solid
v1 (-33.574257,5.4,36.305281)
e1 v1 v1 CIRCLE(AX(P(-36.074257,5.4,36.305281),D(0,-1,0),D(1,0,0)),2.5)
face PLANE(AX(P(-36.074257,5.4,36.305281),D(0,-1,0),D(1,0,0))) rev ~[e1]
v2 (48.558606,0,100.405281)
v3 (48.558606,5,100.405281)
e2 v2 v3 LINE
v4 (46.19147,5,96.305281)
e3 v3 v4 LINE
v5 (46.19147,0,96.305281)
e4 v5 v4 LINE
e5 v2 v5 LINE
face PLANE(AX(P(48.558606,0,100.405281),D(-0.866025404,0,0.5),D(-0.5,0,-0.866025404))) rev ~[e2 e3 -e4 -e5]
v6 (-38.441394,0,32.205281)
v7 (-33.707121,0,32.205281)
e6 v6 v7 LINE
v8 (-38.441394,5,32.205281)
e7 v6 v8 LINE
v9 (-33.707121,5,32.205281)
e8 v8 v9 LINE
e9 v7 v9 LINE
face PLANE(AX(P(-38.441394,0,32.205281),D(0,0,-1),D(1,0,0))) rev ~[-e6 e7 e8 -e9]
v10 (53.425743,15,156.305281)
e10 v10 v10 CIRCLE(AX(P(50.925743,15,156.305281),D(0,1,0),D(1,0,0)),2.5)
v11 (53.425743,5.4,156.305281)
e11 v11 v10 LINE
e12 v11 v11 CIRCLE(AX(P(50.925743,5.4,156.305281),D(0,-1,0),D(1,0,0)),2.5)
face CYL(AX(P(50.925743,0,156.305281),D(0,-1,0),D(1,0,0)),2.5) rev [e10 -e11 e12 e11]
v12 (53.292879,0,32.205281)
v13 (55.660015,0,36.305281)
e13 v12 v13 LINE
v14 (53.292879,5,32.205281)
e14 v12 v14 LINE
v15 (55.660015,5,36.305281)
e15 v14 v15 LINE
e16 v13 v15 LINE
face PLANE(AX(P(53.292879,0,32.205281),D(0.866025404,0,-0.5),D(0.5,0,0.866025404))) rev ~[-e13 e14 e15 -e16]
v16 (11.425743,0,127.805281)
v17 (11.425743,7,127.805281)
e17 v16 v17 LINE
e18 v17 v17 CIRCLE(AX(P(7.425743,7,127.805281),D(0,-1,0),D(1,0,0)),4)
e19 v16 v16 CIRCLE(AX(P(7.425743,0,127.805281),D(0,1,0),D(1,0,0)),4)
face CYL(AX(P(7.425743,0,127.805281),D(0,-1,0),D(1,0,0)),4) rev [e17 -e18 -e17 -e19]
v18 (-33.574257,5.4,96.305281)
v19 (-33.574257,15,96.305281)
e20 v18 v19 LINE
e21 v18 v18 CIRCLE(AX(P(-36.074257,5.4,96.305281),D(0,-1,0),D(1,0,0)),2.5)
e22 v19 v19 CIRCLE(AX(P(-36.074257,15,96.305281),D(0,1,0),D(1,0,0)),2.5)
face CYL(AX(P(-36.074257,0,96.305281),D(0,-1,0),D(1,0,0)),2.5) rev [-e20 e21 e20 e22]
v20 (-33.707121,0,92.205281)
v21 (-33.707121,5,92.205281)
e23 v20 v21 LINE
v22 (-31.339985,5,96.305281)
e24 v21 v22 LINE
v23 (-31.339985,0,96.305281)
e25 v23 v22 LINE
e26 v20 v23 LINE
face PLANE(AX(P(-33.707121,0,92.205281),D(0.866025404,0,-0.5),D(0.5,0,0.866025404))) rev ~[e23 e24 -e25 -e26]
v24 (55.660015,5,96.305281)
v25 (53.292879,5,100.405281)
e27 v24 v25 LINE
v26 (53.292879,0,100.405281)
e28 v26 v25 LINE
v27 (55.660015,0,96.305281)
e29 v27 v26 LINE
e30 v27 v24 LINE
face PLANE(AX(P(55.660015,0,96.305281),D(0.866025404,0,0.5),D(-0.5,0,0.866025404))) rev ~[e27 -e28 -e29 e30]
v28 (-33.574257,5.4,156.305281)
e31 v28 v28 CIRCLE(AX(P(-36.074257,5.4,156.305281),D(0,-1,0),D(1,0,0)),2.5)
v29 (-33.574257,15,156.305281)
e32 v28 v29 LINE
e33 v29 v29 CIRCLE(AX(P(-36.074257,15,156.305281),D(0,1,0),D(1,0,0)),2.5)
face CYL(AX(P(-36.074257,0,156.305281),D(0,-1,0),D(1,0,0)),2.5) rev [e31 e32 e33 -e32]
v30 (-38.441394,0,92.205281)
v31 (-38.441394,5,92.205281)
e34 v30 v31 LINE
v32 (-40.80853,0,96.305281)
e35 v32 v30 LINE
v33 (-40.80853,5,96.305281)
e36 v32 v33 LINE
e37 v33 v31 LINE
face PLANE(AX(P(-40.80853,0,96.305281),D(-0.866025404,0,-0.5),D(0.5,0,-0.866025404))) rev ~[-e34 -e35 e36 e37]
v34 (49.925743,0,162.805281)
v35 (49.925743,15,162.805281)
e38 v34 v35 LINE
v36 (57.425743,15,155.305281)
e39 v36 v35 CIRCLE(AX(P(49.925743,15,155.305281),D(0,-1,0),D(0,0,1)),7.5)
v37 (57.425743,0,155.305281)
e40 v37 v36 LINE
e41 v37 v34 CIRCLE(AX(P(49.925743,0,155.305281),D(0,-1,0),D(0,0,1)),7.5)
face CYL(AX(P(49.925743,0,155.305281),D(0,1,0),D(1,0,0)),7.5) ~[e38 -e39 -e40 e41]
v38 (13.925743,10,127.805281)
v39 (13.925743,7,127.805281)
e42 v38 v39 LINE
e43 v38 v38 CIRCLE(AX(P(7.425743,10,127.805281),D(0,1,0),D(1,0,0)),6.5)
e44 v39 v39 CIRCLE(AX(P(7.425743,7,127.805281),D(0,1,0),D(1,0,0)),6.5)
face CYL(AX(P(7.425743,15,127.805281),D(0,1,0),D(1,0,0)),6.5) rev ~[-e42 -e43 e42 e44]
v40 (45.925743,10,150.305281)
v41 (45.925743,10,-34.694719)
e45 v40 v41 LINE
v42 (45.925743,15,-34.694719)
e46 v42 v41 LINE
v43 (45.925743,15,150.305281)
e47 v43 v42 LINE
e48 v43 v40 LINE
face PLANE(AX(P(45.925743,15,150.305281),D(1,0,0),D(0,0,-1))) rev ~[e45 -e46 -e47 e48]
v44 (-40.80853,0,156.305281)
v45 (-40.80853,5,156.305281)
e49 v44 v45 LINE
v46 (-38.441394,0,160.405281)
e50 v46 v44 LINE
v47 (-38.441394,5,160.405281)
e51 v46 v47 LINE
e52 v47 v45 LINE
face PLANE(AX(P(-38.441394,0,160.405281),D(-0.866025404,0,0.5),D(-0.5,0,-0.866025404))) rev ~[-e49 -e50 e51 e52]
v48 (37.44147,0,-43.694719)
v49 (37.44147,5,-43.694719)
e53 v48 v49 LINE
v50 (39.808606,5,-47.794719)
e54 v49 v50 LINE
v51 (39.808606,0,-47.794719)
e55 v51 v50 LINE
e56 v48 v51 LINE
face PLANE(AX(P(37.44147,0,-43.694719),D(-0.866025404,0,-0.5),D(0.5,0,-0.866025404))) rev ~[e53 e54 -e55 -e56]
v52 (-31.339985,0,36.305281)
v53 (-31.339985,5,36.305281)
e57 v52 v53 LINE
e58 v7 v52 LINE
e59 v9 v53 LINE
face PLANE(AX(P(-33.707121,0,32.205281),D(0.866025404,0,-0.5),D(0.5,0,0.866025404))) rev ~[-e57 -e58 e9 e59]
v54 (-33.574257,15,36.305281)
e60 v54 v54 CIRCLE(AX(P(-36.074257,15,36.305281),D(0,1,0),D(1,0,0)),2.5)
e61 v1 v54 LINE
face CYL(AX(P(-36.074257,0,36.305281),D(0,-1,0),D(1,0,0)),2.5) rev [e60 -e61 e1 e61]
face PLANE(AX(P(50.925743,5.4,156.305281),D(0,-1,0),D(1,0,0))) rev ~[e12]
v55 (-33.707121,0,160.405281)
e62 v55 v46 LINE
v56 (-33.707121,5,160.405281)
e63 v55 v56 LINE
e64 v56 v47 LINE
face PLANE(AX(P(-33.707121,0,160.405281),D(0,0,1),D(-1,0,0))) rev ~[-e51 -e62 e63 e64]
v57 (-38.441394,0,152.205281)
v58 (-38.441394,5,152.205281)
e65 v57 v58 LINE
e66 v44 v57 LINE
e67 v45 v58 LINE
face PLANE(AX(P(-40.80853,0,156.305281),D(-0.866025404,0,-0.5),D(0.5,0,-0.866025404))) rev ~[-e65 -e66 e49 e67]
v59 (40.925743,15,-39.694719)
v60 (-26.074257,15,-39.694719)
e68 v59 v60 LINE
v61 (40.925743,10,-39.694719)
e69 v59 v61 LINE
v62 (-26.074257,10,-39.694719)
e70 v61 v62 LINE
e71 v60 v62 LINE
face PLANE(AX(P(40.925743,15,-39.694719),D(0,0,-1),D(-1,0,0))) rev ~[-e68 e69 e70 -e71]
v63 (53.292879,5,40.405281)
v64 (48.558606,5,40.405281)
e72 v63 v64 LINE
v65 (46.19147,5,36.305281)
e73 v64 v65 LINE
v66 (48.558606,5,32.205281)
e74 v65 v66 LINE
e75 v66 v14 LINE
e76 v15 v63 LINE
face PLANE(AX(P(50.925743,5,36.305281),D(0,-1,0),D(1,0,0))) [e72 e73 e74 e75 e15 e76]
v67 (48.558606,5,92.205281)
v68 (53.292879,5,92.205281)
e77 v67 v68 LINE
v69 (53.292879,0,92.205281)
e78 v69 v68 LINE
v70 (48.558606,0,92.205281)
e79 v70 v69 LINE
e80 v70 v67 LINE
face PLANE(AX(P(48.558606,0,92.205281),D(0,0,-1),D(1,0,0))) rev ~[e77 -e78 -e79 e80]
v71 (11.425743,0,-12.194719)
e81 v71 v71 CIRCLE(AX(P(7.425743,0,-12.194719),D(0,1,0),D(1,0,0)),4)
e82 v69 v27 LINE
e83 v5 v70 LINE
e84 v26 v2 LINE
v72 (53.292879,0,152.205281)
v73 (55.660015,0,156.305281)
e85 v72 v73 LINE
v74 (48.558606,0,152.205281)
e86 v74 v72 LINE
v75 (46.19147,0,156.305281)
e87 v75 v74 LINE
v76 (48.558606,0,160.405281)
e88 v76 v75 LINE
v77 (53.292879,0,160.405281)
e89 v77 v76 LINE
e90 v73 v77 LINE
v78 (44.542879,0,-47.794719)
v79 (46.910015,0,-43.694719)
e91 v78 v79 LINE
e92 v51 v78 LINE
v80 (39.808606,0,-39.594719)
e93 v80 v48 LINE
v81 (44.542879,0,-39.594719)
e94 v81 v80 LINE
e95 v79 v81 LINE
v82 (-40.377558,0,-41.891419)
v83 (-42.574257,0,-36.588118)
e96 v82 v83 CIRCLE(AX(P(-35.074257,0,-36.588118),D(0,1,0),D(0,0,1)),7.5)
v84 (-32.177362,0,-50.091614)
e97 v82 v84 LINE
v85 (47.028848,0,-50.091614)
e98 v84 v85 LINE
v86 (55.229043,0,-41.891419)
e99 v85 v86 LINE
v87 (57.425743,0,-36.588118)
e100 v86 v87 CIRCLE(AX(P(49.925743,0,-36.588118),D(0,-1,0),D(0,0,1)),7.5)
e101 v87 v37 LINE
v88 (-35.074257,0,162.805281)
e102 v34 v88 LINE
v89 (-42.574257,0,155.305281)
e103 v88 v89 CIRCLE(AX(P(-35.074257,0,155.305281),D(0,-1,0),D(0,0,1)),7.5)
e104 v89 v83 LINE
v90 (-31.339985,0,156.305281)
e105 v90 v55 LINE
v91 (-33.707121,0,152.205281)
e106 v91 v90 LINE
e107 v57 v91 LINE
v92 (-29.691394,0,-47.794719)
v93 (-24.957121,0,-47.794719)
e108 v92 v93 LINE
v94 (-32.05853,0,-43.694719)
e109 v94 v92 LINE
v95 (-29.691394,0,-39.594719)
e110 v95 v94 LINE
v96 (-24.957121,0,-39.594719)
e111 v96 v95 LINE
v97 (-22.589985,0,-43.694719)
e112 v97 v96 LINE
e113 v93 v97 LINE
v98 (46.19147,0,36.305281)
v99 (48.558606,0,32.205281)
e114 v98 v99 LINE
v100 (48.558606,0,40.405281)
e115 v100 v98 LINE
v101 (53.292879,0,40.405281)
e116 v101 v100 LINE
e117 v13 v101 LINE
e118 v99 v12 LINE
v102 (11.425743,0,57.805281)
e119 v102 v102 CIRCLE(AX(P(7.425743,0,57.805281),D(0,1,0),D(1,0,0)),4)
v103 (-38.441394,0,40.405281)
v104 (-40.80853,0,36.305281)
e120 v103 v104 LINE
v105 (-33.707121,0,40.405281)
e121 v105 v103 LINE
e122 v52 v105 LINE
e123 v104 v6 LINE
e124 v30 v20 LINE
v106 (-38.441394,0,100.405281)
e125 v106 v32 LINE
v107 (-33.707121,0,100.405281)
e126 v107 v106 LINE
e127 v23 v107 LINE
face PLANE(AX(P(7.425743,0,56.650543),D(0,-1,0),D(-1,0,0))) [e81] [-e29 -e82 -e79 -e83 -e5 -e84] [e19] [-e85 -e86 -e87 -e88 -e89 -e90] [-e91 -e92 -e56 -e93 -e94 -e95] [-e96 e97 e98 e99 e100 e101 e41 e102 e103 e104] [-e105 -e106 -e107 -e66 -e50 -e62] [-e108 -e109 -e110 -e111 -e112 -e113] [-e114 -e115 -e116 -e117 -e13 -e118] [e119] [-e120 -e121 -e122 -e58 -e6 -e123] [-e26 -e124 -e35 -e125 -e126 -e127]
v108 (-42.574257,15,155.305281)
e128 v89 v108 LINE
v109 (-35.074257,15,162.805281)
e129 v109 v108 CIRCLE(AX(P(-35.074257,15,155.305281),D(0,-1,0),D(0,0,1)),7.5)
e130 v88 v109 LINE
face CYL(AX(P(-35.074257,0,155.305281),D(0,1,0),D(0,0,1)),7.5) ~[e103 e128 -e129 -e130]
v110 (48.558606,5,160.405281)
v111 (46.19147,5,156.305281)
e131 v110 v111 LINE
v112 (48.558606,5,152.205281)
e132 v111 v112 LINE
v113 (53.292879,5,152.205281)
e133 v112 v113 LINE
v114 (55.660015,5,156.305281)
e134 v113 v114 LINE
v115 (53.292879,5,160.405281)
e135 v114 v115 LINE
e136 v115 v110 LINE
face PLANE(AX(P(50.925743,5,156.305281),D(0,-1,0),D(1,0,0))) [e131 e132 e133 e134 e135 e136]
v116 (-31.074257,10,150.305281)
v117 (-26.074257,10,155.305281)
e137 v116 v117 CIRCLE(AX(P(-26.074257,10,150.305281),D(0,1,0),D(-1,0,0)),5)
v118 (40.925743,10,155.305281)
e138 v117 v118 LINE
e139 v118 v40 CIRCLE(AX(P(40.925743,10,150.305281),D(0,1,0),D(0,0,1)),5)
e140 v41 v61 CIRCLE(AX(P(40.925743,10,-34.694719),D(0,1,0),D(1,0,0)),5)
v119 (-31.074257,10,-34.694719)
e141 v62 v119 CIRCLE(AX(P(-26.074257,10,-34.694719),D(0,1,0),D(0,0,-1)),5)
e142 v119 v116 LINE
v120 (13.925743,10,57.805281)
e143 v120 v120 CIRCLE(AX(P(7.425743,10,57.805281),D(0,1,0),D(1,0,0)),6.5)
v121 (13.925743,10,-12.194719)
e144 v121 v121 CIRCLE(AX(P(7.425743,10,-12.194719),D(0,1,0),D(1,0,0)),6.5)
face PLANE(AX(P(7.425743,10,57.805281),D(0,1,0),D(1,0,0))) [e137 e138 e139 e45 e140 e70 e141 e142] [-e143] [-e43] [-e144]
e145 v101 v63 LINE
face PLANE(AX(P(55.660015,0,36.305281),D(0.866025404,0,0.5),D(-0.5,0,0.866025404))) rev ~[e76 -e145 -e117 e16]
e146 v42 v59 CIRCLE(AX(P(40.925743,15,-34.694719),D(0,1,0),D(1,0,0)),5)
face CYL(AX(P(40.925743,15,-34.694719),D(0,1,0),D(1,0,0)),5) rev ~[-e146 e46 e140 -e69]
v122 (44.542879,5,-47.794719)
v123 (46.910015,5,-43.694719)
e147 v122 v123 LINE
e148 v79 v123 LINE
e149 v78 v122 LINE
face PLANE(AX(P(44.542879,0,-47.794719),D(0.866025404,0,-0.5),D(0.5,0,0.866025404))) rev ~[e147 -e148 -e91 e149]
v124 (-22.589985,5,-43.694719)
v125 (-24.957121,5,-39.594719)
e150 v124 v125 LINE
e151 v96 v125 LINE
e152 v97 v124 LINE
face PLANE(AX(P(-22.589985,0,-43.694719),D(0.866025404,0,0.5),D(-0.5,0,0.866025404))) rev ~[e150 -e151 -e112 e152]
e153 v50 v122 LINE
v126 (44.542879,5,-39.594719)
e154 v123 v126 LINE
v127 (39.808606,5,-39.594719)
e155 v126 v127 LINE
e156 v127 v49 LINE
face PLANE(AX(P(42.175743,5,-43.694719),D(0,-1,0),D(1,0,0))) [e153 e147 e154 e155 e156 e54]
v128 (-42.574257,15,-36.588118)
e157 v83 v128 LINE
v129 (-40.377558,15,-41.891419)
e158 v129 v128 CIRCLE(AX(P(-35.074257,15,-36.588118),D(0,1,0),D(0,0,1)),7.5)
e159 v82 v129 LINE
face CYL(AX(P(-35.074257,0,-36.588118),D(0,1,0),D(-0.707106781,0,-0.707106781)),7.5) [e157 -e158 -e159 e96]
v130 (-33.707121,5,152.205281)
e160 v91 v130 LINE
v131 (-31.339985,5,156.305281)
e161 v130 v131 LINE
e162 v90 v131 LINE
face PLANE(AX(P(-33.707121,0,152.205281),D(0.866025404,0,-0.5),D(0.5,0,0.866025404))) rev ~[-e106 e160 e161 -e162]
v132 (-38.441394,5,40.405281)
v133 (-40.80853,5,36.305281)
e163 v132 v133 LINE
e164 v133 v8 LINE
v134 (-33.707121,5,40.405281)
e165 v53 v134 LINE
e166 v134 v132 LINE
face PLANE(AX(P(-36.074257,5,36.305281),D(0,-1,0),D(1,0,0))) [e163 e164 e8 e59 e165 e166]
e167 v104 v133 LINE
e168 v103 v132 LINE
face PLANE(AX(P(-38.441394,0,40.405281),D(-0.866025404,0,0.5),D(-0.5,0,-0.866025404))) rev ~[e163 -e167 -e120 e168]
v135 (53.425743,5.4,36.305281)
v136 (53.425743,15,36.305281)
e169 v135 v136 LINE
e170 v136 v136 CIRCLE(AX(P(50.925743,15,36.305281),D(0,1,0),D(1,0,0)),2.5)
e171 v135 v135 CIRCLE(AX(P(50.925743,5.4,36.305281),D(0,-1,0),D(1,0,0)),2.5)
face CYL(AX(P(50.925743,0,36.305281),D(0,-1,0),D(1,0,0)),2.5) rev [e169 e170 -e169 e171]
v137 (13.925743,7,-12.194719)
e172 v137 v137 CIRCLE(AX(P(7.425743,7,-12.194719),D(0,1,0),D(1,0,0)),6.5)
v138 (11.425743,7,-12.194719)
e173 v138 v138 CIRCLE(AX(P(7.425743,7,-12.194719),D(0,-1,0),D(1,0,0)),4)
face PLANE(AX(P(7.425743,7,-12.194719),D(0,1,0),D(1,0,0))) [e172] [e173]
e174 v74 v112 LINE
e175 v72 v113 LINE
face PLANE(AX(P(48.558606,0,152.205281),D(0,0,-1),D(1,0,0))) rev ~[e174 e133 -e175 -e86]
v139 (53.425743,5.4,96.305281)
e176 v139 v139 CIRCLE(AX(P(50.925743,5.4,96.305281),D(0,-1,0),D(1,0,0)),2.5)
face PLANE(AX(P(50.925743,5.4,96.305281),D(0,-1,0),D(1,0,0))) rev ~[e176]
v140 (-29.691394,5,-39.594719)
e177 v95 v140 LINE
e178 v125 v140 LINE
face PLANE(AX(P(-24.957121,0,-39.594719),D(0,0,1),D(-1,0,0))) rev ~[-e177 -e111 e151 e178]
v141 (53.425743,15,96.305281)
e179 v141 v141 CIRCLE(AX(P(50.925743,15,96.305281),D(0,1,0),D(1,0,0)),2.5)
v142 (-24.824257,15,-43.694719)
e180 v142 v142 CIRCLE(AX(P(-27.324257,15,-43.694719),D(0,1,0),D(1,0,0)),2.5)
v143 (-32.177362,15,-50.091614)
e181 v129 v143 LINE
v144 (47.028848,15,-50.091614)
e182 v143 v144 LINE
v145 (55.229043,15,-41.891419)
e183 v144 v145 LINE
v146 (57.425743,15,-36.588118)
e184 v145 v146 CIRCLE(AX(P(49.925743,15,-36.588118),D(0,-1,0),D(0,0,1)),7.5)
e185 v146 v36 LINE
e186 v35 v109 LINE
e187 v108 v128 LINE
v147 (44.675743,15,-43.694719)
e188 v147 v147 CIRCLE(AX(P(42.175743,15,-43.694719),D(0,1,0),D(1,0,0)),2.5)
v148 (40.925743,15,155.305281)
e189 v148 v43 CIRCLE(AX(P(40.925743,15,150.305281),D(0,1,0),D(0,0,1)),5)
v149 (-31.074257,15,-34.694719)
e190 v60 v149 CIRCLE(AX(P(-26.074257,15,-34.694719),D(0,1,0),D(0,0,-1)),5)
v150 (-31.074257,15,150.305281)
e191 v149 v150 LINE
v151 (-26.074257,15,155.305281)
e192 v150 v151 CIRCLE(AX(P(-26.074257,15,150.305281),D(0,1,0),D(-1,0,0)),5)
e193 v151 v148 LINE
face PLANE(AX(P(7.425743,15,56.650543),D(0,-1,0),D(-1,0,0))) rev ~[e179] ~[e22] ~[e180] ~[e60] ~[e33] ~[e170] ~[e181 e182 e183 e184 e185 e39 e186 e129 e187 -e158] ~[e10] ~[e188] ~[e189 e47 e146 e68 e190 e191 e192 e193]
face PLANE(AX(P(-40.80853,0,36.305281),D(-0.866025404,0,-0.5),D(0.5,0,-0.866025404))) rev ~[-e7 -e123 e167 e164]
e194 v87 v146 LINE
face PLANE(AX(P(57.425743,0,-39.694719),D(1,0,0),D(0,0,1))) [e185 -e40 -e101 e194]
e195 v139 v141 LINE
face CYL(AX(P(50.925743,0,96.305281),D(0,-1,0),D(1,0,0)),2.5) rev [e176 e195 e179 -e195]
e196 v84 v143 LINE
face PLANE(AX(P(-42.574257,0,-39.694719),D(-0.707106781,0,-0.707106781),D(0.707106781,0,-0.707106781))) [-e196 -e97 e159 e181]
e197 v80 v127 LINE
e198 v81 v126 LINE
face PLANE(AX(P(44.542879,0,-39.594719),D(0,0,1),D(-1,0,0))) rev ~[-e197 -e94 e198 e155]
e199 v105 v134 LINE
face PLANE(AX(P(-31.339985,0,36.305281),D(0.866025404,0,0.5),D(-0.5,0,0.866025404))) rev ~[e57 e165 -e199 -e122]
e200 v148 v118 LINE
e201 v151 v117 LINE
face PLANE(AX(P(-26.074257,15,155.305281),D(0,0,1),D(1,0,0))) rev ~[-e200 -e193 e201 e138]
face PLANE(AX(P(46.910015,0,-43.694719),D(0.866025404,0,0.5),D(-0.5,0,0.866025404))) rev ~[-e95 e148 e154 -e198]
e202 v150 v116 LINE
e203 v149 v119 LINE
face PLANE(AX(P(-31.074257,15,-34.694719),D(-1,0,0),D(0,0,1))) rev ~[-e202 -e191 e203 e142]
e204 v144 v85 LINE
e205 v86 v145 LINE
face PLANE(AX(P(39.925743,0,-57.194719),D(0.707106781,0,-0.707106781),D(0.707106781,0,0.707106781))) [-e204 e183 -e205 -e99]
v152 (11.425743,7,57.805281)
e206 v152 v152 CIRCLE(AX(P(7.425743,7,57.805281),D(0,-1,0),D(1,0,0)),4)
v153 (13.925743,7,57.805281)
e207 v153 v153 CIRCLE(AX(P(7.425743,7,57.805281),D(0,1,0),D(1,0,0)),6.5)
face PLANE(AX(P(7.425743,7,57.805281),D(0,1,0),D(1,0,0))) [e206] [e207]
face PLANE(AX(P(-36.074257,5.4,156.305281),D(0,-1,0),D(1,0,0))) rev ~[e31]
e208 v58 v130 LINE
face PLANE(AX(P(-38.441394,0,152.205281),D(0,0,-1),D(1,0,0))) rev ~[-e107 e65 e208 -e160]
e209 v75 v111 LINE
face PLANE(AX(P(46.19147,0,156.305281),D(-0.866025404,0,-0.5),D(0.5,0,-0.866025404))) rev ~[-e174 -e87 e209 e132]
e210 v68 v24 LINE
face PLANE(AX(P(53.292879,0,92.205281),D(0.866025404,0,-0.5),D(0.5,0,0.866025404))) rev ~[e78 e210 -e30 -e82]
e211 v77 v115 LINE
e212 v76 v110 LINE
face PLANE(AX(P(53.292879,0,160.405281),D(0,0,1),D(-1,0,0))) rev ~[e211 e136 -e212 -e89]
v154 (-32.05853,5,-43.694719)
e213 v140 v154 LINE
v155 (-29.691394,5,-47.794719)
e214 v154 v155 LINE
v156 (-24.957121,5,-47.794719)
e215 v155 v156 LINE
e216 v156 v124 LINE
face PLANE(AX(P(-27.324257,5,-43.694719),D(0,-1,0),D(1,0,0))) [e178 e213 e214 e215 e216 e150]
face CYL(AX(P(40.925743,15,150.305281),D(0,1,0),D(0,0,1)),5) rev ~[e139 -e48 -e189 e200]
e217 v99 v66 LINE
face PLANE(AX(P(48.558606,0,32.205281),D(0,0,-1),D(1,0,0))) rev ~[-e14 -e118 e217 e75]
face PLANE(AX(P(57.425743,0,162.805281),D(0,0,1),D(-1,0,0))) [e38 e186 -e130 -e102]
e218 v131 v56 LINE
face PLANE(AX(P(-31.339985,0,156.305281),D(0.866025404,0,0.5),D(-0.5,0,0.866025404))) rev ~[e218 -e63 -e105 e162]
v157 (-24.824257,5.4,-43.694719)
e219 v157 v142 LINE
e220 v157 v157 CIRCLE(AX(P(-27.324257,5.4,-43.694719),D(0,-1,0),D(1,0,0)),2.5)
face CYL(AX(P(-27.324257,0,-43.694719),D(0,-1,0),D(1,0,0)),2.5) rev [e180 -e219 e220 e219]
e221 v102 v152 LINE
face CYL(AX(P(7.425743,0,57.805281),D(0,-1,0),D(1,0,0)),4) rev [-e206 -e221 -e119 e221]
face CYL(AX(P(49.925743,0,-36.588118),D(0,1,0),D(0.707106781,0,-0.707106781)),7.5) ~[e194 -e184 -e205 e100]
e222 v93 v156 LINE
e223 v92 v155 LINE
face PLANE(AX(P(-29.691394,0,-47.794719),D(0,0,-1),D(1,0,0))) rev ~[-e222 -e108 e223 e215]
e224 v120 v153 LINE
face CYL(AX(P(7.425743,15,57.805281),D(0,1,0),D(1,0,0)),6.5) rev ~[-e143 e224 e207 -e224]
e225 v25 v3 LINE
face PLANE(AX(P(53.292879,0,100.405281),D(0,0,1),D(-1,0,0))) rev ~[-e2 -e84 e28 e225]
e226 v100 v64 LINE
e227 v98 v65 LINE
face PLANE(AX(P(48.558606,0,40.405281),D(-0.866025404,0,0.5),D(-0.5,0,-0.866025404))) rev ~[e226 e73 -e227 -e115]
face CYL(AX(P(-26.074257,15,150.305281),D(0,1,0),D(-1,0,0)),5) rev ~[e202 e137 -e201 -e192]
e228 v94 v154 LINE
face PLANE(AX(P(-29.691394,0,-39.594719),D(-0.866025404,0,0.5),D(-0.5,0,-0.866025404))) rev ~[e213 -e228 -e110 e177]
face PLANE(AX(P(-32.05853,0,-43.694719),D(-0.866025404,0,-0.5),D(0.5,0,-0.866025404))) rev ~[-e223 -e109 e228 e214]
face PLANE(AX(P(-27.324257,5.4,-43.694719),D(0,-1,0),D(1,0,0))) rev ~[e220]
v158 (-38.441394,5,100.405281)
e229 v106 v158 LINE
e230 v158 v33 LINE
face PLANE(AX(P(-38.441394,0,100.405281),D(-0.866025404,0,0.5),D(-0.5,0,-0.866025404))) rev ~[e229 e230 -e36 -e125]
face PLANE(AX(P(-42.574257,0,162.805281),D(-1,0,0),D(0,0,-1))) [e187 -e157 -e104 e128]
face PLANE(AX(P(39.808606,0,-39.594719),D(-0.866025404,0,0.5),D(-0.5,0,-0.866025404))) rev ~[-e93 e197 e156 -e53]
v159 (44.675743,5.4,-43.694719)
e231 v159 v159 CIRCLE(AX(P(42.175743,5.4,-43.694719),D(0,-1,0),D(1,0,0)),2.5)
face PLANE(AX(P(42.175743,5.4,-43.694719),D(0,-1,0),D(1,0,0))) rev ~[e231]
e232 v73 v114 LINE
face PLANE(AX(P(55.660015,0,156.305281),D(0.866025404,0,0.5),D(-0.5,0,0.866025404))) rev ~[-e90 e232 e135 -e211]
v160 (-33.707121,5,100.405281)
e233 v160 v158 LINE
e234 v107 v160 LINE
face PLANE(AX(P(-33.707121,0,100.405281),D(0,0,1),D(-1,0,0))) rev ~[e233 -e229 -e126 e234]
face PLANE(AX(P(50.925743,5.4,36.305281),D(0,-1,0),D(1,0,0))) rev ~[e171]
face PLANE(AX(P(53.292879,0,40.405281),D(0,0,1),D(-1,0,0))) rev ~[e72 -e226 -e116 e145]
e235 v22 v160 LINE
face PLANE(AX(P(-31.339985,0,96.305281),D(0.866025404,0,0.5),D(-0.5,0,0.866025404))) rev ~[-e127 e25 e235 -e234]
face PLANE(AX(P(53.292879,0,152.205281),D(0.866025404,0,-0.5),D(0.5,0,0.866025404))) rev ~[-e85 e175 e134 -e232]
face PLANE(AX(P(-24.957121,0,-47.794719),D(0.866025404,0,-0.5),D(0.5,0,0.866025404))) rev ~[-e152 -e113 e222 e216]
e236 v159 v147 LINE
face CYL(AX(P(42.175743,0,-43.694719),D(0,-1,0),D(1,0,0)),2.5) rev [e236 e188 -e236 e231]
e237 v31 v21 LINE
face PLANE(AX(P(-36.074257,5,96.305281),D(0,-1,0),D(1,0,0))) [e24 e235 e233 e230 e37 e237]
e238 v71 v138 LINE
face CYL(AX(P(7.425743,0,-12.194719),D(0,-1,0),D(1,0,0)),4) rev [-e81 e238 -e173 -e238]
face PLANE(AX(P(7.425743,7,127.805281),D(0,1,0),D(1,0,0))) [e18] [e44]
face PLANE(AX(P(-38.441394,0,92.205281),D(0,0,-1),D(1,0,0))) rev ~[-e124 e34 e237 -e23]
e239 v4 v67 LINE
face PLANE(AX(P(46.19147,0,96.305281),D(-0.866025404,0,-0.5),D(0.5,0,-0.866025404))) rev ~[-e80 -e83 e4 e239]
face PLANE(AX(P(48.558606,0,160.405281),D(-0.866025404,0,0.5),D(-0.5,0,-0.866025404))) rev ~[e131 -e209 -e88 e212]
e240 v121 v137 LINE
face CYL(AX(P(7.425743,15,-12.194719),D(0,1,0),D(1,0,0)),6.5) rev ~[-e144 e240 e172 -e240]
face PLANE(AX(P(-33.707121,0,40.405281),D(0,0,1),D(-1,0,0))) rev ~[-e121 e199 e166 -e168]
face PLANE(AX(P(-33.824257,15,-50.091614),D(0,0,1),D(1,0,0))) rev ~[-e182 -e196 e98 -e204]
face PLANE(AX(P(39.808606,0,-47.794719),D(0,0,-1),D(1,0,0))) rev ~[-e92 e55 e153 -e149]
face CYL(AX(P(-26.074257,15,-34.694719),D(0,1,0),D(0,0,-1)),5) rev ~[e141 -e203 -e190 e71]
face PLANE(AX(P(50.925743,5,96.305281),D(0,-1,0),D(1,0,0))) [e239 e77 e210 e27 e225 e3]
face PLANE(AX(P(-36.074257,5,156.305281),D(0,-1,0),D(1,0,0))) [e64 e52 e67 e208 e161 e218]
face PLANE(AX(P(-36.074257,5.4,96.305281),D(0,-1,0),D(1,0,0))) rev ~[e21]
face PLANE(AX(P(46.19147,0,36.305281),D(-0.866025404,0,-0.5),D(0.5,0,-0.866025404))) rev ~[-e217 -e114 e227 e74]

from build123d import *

# Parameters (mm, degrees)
SKETCH1_R           = 2.5
SKETCH1_R_2         = 4
BOSS_EXTRUDE1_DEPTH = 15
SKETCH2_R           = 6.5
CUT_EXTRUDE1_DEPTH  = 8
FILLET1_R           = 7.5
CUT_EXTRUDE2_DEPTH  = 5
SKETCH5_W           = 82.5
SKETCH5_H           = 15.853105066
CUT_EXTRUDE3_DEPTH  = 15
CUT_EXTRUDE4_DEPTH  = 5
SKETCH7_R           = 2.5
BOSS_EXTRUDE2_DEPTH = 0.4


with BuildPart() as part:
    # Sketch1 → Boss-Extrude1 (new body)
    with BuildSketch(Plane(origin=(0, 0, 0), x_dir=(1, 0, 0), z_dir=(0, 1, 0))):
        Polygon((39.925742574, 57.194719472), (57.425742574, 39.694719472), (57.425742574, -162.805280528), (-42.574257426, -162.805280528), (-42.574257426, 39.694719472), (-25.074257426, 57.194719472), align=None)
        with Locations((42.175742574, 43.694719472)):
            Circle(SKETCH1_R, mode=Mode.SUBTRACT)
        with Locations((-27.324257426, 43.694719472)):
            Circle(SKETCH1_R, mode=Mode.SUBTRACT)
        with Locations((50.925742574, -36.305280528)):
            Circle(SKETCH1_R, mode=Mode.SUBTRACT)
        with Locations((-36.074257426, -36.305280528)):
            Circle(SKETCH1_R, mode=Mode.SUBTRACT)
        with Locations((50.925742574, -96.305280528)):
            Circle(SKETCH1_R, mode=Mode.SUBTRACT)
        with Locations((-36.074257426, -96.305280528)):
            Circle(SKETCH1_R, mode=Mode.SUBTRACT)
        with Locations((50.925742574, -156.305280528)):
            Circle(SKETCH1_R, mode=Mode.SUBTRACT)
        with Locations((-36.074257426, -156.305280528)):
            Circle(SKETCH1_R, mode=Mode.SUBTRACT)
        with Locations((7.425742574, -127.805280528)):
            Circle(SKETCH1_R_2, mode=Mode.SUBTRACT)
        with Locations((7.425742574, -57.805280528)):
            Circle(SKETCH1_R_2, mode=Mode.SUBTRACT)
        with Locations((7.425742574, 12.194719472)):
            Circle(SKETCH1_R_2, mode=Mode.SUBTRACT)
    extrude(amount=BOSS_EXTRUDE1_DEPTH)

    # Sketch2 → Cut-Extrude1 (cut)
    with BuildSketch(Plane(origin=(0, 15, 0), x_dir=(1, 0, 0), z_dir=(0, 1, 0))):
        with Locations((7.425742574, 12.194719472)):
            Circle(SKETCH2_R)
        with Locations((7.425742574, -57.805280528)):
            Circle(SKETCH2_R)
        with Locations((7.425742574, -127.805280528)):
            Circle(SKETCH2_R)
    extrude(amount=-CUT_EXTRUDE1_DEPTH, mode=Mode.SUBTRACT)

    # Fillet1
    fillet1_edges = [part.edges().sort_by_distance(p)[0] for p in [
        (57.425742574, 7.5, -39.694719472),
        (57.425742574, 7.5, 162.805280528),
        (-42.574257426, 7.5, 162.805280528),
        (-42.574257426, 7.5, -39.694719472),
        (-25.074257426, 7.5, -57.194719472),
        (39.925742574, 7.5, -57.194719472),
    ]]
    fillet(fillet1_edges, radius=FILLET1_R)

    # Sketch4 → Cut-Extrude2 (cut)
    with BuildSketch(Plane(origin=(0, 15, 0), x_dir=(1, 0, 0), z_dir=(0, 1, 0))):
        with BuildLine():
            Line((-26.074257426, -155.305280528), (40.925742574, -155.305280528))
            ThreePointArc((40.925742574, -155.305280528), (44.46127648, -153.840814434), (45.925742574, -150.305280528))
            Line((45.925742574, -150.305280528), (45.925742574, 34.694719472))
            ThreePointArc((45.925742574, 34.694719472), (44.46127648, 38.230253378), (40.925742574, 39.694719472))
            Line((40.925742574, 39.694719472), (-26.074257426, 39.694719472))
            ThreePointArc((-26.074257426, 39.694719472), (-29.609791332, 38.230253378), (-31.074257426, 34.694719472))
            Line((-31.074257426, 34.694719472), (-31.074257426, -150.305280528))
            ThreePointArc((-31.074257426, -150.305280528), (-29.609791332, -153.840814434), (-26.074257426, -155.305280528))
        make_face()
    extrude(amount=-CUT_EXTRUDE2_DEPTH, mode=Mode.SUBTRACT)

    # Sketch5 → Cut-Extrude3 (cut)
    with BuildSketch(Plane(origin=(0, 15, 0), x_dir=(1, 0, 0), z_dir=(0, 1, 0))):
        with Locations((7.425742574, 58.018166939)):
            Rectangle(SKETCH5_W, SKETCH5_H)
    extrude(amount=-CUT_EXTRUDE3_DEPTH, mode=Mode.SUBTRACT)

    # Sketch6 → Cut-Extrude4 (cut)
    with BuildSketch(Plane.XZ):
        Polygon((-38.441393529, 32.205280528), (-33.707121322, 32.205280528), (-31.339985218, 36.305280528), (-33.707121322, 40.405280528), (-38.441393529, 40.405280528), (-40.808529633, 36.305280528), align=None)
        Polygon((55.660014782, 36.305280528), (53.292878678, 40.405280528), (48.558606471, 40.405280528), (46.191470367, 36.305280528), (48.558606471, 32.205280528), (53.292878678, 32.205280528), align=None)
        Polygon((-22.589985218, -43.694719472), (-24.957121322, -39.594719472), (-29.691393529, -39.594719472), (-32.058529633, -43.694719472), (-29.691393529, -47.794719472), (-24.957121322, -47.794719472), align=None)
        Polygon((46.910014782, -43.694719472), (44.542878678, -39.594719472), (39.808606471, -39.594719472), (37.441470367, -43.694719472), (39.808606471, -47.794719472), (44.542878678, -47.794719472), align=None)
        Polygon((-31.339985218, 96.305280528), (-33.707121322, 100.405280528), (-38.441393529, 100.405280528), (-40.808529633, 96.305280528), (-38.441393529, 92.205280528), (-33.707121322, 92.205280528), align=None)
        Polygon((55.660014782, 96.305280528), (53.292878678, 100.405280528), (48.558606471, 100.405280528), (46.191470367, 96.305280528), (48.558606471, 92.205280528), (53.292878678, 92.205280528), align=None)
        Polygon((55.660014782, 156.305280528), (53.292878678, 160.405280528), (48.558606471, 160.405280528), (46.191470367, 156.305280528), (48.558606471, 152.205280528), (53.292878678, 152.205280528), align=None)
        Polygon((-40.808529633, 156.305280528), (-38.441393529, 152.205280528), (-33.707121322, 152.205280528), (-31.339985218, 156.305280528), (-33.707121322, 160.405280528), (-38.441393529, 160.405280528), align=None)
    extrude(amount=-CUT_EXTRUDE4_DEPTH, mode=Mode.SUBTRACT)

    # Sketch7 → Boss-Extrude2 (add)
    with BuildSketch(Plane.XZ.offset(-5)):
        with Locations((-36.074257426, 156.305280528)):
            Circle(SKETCH7_R)
        with Locations((50.925742574, 156.305280528)):
            Circle(SKETCH7_R)
        with Locations((-36.074257426, 96.305280528)):
            Circle(SKETCH7_R)
        with Locations((50.925742574, 96.305280528)):
            Circle(SKETCH7_R)
        with Locations((-36.074257426, 36.305280528)):
            Circle(SKETCH7_R)
        with Locations((50.925742574, 36.305280528)):
            Circle(SKETCH7_R)
        with Locations((-27.324257426, -43.694719472)):
            Circle(SKETCH7_R)
        with Locations((42.175742574, -43.694719472)):
            Circle(SKETCH7_R)
    extrude(amount=-BOSS_EXTRUDE2_DEPTH)


solid = part.part
